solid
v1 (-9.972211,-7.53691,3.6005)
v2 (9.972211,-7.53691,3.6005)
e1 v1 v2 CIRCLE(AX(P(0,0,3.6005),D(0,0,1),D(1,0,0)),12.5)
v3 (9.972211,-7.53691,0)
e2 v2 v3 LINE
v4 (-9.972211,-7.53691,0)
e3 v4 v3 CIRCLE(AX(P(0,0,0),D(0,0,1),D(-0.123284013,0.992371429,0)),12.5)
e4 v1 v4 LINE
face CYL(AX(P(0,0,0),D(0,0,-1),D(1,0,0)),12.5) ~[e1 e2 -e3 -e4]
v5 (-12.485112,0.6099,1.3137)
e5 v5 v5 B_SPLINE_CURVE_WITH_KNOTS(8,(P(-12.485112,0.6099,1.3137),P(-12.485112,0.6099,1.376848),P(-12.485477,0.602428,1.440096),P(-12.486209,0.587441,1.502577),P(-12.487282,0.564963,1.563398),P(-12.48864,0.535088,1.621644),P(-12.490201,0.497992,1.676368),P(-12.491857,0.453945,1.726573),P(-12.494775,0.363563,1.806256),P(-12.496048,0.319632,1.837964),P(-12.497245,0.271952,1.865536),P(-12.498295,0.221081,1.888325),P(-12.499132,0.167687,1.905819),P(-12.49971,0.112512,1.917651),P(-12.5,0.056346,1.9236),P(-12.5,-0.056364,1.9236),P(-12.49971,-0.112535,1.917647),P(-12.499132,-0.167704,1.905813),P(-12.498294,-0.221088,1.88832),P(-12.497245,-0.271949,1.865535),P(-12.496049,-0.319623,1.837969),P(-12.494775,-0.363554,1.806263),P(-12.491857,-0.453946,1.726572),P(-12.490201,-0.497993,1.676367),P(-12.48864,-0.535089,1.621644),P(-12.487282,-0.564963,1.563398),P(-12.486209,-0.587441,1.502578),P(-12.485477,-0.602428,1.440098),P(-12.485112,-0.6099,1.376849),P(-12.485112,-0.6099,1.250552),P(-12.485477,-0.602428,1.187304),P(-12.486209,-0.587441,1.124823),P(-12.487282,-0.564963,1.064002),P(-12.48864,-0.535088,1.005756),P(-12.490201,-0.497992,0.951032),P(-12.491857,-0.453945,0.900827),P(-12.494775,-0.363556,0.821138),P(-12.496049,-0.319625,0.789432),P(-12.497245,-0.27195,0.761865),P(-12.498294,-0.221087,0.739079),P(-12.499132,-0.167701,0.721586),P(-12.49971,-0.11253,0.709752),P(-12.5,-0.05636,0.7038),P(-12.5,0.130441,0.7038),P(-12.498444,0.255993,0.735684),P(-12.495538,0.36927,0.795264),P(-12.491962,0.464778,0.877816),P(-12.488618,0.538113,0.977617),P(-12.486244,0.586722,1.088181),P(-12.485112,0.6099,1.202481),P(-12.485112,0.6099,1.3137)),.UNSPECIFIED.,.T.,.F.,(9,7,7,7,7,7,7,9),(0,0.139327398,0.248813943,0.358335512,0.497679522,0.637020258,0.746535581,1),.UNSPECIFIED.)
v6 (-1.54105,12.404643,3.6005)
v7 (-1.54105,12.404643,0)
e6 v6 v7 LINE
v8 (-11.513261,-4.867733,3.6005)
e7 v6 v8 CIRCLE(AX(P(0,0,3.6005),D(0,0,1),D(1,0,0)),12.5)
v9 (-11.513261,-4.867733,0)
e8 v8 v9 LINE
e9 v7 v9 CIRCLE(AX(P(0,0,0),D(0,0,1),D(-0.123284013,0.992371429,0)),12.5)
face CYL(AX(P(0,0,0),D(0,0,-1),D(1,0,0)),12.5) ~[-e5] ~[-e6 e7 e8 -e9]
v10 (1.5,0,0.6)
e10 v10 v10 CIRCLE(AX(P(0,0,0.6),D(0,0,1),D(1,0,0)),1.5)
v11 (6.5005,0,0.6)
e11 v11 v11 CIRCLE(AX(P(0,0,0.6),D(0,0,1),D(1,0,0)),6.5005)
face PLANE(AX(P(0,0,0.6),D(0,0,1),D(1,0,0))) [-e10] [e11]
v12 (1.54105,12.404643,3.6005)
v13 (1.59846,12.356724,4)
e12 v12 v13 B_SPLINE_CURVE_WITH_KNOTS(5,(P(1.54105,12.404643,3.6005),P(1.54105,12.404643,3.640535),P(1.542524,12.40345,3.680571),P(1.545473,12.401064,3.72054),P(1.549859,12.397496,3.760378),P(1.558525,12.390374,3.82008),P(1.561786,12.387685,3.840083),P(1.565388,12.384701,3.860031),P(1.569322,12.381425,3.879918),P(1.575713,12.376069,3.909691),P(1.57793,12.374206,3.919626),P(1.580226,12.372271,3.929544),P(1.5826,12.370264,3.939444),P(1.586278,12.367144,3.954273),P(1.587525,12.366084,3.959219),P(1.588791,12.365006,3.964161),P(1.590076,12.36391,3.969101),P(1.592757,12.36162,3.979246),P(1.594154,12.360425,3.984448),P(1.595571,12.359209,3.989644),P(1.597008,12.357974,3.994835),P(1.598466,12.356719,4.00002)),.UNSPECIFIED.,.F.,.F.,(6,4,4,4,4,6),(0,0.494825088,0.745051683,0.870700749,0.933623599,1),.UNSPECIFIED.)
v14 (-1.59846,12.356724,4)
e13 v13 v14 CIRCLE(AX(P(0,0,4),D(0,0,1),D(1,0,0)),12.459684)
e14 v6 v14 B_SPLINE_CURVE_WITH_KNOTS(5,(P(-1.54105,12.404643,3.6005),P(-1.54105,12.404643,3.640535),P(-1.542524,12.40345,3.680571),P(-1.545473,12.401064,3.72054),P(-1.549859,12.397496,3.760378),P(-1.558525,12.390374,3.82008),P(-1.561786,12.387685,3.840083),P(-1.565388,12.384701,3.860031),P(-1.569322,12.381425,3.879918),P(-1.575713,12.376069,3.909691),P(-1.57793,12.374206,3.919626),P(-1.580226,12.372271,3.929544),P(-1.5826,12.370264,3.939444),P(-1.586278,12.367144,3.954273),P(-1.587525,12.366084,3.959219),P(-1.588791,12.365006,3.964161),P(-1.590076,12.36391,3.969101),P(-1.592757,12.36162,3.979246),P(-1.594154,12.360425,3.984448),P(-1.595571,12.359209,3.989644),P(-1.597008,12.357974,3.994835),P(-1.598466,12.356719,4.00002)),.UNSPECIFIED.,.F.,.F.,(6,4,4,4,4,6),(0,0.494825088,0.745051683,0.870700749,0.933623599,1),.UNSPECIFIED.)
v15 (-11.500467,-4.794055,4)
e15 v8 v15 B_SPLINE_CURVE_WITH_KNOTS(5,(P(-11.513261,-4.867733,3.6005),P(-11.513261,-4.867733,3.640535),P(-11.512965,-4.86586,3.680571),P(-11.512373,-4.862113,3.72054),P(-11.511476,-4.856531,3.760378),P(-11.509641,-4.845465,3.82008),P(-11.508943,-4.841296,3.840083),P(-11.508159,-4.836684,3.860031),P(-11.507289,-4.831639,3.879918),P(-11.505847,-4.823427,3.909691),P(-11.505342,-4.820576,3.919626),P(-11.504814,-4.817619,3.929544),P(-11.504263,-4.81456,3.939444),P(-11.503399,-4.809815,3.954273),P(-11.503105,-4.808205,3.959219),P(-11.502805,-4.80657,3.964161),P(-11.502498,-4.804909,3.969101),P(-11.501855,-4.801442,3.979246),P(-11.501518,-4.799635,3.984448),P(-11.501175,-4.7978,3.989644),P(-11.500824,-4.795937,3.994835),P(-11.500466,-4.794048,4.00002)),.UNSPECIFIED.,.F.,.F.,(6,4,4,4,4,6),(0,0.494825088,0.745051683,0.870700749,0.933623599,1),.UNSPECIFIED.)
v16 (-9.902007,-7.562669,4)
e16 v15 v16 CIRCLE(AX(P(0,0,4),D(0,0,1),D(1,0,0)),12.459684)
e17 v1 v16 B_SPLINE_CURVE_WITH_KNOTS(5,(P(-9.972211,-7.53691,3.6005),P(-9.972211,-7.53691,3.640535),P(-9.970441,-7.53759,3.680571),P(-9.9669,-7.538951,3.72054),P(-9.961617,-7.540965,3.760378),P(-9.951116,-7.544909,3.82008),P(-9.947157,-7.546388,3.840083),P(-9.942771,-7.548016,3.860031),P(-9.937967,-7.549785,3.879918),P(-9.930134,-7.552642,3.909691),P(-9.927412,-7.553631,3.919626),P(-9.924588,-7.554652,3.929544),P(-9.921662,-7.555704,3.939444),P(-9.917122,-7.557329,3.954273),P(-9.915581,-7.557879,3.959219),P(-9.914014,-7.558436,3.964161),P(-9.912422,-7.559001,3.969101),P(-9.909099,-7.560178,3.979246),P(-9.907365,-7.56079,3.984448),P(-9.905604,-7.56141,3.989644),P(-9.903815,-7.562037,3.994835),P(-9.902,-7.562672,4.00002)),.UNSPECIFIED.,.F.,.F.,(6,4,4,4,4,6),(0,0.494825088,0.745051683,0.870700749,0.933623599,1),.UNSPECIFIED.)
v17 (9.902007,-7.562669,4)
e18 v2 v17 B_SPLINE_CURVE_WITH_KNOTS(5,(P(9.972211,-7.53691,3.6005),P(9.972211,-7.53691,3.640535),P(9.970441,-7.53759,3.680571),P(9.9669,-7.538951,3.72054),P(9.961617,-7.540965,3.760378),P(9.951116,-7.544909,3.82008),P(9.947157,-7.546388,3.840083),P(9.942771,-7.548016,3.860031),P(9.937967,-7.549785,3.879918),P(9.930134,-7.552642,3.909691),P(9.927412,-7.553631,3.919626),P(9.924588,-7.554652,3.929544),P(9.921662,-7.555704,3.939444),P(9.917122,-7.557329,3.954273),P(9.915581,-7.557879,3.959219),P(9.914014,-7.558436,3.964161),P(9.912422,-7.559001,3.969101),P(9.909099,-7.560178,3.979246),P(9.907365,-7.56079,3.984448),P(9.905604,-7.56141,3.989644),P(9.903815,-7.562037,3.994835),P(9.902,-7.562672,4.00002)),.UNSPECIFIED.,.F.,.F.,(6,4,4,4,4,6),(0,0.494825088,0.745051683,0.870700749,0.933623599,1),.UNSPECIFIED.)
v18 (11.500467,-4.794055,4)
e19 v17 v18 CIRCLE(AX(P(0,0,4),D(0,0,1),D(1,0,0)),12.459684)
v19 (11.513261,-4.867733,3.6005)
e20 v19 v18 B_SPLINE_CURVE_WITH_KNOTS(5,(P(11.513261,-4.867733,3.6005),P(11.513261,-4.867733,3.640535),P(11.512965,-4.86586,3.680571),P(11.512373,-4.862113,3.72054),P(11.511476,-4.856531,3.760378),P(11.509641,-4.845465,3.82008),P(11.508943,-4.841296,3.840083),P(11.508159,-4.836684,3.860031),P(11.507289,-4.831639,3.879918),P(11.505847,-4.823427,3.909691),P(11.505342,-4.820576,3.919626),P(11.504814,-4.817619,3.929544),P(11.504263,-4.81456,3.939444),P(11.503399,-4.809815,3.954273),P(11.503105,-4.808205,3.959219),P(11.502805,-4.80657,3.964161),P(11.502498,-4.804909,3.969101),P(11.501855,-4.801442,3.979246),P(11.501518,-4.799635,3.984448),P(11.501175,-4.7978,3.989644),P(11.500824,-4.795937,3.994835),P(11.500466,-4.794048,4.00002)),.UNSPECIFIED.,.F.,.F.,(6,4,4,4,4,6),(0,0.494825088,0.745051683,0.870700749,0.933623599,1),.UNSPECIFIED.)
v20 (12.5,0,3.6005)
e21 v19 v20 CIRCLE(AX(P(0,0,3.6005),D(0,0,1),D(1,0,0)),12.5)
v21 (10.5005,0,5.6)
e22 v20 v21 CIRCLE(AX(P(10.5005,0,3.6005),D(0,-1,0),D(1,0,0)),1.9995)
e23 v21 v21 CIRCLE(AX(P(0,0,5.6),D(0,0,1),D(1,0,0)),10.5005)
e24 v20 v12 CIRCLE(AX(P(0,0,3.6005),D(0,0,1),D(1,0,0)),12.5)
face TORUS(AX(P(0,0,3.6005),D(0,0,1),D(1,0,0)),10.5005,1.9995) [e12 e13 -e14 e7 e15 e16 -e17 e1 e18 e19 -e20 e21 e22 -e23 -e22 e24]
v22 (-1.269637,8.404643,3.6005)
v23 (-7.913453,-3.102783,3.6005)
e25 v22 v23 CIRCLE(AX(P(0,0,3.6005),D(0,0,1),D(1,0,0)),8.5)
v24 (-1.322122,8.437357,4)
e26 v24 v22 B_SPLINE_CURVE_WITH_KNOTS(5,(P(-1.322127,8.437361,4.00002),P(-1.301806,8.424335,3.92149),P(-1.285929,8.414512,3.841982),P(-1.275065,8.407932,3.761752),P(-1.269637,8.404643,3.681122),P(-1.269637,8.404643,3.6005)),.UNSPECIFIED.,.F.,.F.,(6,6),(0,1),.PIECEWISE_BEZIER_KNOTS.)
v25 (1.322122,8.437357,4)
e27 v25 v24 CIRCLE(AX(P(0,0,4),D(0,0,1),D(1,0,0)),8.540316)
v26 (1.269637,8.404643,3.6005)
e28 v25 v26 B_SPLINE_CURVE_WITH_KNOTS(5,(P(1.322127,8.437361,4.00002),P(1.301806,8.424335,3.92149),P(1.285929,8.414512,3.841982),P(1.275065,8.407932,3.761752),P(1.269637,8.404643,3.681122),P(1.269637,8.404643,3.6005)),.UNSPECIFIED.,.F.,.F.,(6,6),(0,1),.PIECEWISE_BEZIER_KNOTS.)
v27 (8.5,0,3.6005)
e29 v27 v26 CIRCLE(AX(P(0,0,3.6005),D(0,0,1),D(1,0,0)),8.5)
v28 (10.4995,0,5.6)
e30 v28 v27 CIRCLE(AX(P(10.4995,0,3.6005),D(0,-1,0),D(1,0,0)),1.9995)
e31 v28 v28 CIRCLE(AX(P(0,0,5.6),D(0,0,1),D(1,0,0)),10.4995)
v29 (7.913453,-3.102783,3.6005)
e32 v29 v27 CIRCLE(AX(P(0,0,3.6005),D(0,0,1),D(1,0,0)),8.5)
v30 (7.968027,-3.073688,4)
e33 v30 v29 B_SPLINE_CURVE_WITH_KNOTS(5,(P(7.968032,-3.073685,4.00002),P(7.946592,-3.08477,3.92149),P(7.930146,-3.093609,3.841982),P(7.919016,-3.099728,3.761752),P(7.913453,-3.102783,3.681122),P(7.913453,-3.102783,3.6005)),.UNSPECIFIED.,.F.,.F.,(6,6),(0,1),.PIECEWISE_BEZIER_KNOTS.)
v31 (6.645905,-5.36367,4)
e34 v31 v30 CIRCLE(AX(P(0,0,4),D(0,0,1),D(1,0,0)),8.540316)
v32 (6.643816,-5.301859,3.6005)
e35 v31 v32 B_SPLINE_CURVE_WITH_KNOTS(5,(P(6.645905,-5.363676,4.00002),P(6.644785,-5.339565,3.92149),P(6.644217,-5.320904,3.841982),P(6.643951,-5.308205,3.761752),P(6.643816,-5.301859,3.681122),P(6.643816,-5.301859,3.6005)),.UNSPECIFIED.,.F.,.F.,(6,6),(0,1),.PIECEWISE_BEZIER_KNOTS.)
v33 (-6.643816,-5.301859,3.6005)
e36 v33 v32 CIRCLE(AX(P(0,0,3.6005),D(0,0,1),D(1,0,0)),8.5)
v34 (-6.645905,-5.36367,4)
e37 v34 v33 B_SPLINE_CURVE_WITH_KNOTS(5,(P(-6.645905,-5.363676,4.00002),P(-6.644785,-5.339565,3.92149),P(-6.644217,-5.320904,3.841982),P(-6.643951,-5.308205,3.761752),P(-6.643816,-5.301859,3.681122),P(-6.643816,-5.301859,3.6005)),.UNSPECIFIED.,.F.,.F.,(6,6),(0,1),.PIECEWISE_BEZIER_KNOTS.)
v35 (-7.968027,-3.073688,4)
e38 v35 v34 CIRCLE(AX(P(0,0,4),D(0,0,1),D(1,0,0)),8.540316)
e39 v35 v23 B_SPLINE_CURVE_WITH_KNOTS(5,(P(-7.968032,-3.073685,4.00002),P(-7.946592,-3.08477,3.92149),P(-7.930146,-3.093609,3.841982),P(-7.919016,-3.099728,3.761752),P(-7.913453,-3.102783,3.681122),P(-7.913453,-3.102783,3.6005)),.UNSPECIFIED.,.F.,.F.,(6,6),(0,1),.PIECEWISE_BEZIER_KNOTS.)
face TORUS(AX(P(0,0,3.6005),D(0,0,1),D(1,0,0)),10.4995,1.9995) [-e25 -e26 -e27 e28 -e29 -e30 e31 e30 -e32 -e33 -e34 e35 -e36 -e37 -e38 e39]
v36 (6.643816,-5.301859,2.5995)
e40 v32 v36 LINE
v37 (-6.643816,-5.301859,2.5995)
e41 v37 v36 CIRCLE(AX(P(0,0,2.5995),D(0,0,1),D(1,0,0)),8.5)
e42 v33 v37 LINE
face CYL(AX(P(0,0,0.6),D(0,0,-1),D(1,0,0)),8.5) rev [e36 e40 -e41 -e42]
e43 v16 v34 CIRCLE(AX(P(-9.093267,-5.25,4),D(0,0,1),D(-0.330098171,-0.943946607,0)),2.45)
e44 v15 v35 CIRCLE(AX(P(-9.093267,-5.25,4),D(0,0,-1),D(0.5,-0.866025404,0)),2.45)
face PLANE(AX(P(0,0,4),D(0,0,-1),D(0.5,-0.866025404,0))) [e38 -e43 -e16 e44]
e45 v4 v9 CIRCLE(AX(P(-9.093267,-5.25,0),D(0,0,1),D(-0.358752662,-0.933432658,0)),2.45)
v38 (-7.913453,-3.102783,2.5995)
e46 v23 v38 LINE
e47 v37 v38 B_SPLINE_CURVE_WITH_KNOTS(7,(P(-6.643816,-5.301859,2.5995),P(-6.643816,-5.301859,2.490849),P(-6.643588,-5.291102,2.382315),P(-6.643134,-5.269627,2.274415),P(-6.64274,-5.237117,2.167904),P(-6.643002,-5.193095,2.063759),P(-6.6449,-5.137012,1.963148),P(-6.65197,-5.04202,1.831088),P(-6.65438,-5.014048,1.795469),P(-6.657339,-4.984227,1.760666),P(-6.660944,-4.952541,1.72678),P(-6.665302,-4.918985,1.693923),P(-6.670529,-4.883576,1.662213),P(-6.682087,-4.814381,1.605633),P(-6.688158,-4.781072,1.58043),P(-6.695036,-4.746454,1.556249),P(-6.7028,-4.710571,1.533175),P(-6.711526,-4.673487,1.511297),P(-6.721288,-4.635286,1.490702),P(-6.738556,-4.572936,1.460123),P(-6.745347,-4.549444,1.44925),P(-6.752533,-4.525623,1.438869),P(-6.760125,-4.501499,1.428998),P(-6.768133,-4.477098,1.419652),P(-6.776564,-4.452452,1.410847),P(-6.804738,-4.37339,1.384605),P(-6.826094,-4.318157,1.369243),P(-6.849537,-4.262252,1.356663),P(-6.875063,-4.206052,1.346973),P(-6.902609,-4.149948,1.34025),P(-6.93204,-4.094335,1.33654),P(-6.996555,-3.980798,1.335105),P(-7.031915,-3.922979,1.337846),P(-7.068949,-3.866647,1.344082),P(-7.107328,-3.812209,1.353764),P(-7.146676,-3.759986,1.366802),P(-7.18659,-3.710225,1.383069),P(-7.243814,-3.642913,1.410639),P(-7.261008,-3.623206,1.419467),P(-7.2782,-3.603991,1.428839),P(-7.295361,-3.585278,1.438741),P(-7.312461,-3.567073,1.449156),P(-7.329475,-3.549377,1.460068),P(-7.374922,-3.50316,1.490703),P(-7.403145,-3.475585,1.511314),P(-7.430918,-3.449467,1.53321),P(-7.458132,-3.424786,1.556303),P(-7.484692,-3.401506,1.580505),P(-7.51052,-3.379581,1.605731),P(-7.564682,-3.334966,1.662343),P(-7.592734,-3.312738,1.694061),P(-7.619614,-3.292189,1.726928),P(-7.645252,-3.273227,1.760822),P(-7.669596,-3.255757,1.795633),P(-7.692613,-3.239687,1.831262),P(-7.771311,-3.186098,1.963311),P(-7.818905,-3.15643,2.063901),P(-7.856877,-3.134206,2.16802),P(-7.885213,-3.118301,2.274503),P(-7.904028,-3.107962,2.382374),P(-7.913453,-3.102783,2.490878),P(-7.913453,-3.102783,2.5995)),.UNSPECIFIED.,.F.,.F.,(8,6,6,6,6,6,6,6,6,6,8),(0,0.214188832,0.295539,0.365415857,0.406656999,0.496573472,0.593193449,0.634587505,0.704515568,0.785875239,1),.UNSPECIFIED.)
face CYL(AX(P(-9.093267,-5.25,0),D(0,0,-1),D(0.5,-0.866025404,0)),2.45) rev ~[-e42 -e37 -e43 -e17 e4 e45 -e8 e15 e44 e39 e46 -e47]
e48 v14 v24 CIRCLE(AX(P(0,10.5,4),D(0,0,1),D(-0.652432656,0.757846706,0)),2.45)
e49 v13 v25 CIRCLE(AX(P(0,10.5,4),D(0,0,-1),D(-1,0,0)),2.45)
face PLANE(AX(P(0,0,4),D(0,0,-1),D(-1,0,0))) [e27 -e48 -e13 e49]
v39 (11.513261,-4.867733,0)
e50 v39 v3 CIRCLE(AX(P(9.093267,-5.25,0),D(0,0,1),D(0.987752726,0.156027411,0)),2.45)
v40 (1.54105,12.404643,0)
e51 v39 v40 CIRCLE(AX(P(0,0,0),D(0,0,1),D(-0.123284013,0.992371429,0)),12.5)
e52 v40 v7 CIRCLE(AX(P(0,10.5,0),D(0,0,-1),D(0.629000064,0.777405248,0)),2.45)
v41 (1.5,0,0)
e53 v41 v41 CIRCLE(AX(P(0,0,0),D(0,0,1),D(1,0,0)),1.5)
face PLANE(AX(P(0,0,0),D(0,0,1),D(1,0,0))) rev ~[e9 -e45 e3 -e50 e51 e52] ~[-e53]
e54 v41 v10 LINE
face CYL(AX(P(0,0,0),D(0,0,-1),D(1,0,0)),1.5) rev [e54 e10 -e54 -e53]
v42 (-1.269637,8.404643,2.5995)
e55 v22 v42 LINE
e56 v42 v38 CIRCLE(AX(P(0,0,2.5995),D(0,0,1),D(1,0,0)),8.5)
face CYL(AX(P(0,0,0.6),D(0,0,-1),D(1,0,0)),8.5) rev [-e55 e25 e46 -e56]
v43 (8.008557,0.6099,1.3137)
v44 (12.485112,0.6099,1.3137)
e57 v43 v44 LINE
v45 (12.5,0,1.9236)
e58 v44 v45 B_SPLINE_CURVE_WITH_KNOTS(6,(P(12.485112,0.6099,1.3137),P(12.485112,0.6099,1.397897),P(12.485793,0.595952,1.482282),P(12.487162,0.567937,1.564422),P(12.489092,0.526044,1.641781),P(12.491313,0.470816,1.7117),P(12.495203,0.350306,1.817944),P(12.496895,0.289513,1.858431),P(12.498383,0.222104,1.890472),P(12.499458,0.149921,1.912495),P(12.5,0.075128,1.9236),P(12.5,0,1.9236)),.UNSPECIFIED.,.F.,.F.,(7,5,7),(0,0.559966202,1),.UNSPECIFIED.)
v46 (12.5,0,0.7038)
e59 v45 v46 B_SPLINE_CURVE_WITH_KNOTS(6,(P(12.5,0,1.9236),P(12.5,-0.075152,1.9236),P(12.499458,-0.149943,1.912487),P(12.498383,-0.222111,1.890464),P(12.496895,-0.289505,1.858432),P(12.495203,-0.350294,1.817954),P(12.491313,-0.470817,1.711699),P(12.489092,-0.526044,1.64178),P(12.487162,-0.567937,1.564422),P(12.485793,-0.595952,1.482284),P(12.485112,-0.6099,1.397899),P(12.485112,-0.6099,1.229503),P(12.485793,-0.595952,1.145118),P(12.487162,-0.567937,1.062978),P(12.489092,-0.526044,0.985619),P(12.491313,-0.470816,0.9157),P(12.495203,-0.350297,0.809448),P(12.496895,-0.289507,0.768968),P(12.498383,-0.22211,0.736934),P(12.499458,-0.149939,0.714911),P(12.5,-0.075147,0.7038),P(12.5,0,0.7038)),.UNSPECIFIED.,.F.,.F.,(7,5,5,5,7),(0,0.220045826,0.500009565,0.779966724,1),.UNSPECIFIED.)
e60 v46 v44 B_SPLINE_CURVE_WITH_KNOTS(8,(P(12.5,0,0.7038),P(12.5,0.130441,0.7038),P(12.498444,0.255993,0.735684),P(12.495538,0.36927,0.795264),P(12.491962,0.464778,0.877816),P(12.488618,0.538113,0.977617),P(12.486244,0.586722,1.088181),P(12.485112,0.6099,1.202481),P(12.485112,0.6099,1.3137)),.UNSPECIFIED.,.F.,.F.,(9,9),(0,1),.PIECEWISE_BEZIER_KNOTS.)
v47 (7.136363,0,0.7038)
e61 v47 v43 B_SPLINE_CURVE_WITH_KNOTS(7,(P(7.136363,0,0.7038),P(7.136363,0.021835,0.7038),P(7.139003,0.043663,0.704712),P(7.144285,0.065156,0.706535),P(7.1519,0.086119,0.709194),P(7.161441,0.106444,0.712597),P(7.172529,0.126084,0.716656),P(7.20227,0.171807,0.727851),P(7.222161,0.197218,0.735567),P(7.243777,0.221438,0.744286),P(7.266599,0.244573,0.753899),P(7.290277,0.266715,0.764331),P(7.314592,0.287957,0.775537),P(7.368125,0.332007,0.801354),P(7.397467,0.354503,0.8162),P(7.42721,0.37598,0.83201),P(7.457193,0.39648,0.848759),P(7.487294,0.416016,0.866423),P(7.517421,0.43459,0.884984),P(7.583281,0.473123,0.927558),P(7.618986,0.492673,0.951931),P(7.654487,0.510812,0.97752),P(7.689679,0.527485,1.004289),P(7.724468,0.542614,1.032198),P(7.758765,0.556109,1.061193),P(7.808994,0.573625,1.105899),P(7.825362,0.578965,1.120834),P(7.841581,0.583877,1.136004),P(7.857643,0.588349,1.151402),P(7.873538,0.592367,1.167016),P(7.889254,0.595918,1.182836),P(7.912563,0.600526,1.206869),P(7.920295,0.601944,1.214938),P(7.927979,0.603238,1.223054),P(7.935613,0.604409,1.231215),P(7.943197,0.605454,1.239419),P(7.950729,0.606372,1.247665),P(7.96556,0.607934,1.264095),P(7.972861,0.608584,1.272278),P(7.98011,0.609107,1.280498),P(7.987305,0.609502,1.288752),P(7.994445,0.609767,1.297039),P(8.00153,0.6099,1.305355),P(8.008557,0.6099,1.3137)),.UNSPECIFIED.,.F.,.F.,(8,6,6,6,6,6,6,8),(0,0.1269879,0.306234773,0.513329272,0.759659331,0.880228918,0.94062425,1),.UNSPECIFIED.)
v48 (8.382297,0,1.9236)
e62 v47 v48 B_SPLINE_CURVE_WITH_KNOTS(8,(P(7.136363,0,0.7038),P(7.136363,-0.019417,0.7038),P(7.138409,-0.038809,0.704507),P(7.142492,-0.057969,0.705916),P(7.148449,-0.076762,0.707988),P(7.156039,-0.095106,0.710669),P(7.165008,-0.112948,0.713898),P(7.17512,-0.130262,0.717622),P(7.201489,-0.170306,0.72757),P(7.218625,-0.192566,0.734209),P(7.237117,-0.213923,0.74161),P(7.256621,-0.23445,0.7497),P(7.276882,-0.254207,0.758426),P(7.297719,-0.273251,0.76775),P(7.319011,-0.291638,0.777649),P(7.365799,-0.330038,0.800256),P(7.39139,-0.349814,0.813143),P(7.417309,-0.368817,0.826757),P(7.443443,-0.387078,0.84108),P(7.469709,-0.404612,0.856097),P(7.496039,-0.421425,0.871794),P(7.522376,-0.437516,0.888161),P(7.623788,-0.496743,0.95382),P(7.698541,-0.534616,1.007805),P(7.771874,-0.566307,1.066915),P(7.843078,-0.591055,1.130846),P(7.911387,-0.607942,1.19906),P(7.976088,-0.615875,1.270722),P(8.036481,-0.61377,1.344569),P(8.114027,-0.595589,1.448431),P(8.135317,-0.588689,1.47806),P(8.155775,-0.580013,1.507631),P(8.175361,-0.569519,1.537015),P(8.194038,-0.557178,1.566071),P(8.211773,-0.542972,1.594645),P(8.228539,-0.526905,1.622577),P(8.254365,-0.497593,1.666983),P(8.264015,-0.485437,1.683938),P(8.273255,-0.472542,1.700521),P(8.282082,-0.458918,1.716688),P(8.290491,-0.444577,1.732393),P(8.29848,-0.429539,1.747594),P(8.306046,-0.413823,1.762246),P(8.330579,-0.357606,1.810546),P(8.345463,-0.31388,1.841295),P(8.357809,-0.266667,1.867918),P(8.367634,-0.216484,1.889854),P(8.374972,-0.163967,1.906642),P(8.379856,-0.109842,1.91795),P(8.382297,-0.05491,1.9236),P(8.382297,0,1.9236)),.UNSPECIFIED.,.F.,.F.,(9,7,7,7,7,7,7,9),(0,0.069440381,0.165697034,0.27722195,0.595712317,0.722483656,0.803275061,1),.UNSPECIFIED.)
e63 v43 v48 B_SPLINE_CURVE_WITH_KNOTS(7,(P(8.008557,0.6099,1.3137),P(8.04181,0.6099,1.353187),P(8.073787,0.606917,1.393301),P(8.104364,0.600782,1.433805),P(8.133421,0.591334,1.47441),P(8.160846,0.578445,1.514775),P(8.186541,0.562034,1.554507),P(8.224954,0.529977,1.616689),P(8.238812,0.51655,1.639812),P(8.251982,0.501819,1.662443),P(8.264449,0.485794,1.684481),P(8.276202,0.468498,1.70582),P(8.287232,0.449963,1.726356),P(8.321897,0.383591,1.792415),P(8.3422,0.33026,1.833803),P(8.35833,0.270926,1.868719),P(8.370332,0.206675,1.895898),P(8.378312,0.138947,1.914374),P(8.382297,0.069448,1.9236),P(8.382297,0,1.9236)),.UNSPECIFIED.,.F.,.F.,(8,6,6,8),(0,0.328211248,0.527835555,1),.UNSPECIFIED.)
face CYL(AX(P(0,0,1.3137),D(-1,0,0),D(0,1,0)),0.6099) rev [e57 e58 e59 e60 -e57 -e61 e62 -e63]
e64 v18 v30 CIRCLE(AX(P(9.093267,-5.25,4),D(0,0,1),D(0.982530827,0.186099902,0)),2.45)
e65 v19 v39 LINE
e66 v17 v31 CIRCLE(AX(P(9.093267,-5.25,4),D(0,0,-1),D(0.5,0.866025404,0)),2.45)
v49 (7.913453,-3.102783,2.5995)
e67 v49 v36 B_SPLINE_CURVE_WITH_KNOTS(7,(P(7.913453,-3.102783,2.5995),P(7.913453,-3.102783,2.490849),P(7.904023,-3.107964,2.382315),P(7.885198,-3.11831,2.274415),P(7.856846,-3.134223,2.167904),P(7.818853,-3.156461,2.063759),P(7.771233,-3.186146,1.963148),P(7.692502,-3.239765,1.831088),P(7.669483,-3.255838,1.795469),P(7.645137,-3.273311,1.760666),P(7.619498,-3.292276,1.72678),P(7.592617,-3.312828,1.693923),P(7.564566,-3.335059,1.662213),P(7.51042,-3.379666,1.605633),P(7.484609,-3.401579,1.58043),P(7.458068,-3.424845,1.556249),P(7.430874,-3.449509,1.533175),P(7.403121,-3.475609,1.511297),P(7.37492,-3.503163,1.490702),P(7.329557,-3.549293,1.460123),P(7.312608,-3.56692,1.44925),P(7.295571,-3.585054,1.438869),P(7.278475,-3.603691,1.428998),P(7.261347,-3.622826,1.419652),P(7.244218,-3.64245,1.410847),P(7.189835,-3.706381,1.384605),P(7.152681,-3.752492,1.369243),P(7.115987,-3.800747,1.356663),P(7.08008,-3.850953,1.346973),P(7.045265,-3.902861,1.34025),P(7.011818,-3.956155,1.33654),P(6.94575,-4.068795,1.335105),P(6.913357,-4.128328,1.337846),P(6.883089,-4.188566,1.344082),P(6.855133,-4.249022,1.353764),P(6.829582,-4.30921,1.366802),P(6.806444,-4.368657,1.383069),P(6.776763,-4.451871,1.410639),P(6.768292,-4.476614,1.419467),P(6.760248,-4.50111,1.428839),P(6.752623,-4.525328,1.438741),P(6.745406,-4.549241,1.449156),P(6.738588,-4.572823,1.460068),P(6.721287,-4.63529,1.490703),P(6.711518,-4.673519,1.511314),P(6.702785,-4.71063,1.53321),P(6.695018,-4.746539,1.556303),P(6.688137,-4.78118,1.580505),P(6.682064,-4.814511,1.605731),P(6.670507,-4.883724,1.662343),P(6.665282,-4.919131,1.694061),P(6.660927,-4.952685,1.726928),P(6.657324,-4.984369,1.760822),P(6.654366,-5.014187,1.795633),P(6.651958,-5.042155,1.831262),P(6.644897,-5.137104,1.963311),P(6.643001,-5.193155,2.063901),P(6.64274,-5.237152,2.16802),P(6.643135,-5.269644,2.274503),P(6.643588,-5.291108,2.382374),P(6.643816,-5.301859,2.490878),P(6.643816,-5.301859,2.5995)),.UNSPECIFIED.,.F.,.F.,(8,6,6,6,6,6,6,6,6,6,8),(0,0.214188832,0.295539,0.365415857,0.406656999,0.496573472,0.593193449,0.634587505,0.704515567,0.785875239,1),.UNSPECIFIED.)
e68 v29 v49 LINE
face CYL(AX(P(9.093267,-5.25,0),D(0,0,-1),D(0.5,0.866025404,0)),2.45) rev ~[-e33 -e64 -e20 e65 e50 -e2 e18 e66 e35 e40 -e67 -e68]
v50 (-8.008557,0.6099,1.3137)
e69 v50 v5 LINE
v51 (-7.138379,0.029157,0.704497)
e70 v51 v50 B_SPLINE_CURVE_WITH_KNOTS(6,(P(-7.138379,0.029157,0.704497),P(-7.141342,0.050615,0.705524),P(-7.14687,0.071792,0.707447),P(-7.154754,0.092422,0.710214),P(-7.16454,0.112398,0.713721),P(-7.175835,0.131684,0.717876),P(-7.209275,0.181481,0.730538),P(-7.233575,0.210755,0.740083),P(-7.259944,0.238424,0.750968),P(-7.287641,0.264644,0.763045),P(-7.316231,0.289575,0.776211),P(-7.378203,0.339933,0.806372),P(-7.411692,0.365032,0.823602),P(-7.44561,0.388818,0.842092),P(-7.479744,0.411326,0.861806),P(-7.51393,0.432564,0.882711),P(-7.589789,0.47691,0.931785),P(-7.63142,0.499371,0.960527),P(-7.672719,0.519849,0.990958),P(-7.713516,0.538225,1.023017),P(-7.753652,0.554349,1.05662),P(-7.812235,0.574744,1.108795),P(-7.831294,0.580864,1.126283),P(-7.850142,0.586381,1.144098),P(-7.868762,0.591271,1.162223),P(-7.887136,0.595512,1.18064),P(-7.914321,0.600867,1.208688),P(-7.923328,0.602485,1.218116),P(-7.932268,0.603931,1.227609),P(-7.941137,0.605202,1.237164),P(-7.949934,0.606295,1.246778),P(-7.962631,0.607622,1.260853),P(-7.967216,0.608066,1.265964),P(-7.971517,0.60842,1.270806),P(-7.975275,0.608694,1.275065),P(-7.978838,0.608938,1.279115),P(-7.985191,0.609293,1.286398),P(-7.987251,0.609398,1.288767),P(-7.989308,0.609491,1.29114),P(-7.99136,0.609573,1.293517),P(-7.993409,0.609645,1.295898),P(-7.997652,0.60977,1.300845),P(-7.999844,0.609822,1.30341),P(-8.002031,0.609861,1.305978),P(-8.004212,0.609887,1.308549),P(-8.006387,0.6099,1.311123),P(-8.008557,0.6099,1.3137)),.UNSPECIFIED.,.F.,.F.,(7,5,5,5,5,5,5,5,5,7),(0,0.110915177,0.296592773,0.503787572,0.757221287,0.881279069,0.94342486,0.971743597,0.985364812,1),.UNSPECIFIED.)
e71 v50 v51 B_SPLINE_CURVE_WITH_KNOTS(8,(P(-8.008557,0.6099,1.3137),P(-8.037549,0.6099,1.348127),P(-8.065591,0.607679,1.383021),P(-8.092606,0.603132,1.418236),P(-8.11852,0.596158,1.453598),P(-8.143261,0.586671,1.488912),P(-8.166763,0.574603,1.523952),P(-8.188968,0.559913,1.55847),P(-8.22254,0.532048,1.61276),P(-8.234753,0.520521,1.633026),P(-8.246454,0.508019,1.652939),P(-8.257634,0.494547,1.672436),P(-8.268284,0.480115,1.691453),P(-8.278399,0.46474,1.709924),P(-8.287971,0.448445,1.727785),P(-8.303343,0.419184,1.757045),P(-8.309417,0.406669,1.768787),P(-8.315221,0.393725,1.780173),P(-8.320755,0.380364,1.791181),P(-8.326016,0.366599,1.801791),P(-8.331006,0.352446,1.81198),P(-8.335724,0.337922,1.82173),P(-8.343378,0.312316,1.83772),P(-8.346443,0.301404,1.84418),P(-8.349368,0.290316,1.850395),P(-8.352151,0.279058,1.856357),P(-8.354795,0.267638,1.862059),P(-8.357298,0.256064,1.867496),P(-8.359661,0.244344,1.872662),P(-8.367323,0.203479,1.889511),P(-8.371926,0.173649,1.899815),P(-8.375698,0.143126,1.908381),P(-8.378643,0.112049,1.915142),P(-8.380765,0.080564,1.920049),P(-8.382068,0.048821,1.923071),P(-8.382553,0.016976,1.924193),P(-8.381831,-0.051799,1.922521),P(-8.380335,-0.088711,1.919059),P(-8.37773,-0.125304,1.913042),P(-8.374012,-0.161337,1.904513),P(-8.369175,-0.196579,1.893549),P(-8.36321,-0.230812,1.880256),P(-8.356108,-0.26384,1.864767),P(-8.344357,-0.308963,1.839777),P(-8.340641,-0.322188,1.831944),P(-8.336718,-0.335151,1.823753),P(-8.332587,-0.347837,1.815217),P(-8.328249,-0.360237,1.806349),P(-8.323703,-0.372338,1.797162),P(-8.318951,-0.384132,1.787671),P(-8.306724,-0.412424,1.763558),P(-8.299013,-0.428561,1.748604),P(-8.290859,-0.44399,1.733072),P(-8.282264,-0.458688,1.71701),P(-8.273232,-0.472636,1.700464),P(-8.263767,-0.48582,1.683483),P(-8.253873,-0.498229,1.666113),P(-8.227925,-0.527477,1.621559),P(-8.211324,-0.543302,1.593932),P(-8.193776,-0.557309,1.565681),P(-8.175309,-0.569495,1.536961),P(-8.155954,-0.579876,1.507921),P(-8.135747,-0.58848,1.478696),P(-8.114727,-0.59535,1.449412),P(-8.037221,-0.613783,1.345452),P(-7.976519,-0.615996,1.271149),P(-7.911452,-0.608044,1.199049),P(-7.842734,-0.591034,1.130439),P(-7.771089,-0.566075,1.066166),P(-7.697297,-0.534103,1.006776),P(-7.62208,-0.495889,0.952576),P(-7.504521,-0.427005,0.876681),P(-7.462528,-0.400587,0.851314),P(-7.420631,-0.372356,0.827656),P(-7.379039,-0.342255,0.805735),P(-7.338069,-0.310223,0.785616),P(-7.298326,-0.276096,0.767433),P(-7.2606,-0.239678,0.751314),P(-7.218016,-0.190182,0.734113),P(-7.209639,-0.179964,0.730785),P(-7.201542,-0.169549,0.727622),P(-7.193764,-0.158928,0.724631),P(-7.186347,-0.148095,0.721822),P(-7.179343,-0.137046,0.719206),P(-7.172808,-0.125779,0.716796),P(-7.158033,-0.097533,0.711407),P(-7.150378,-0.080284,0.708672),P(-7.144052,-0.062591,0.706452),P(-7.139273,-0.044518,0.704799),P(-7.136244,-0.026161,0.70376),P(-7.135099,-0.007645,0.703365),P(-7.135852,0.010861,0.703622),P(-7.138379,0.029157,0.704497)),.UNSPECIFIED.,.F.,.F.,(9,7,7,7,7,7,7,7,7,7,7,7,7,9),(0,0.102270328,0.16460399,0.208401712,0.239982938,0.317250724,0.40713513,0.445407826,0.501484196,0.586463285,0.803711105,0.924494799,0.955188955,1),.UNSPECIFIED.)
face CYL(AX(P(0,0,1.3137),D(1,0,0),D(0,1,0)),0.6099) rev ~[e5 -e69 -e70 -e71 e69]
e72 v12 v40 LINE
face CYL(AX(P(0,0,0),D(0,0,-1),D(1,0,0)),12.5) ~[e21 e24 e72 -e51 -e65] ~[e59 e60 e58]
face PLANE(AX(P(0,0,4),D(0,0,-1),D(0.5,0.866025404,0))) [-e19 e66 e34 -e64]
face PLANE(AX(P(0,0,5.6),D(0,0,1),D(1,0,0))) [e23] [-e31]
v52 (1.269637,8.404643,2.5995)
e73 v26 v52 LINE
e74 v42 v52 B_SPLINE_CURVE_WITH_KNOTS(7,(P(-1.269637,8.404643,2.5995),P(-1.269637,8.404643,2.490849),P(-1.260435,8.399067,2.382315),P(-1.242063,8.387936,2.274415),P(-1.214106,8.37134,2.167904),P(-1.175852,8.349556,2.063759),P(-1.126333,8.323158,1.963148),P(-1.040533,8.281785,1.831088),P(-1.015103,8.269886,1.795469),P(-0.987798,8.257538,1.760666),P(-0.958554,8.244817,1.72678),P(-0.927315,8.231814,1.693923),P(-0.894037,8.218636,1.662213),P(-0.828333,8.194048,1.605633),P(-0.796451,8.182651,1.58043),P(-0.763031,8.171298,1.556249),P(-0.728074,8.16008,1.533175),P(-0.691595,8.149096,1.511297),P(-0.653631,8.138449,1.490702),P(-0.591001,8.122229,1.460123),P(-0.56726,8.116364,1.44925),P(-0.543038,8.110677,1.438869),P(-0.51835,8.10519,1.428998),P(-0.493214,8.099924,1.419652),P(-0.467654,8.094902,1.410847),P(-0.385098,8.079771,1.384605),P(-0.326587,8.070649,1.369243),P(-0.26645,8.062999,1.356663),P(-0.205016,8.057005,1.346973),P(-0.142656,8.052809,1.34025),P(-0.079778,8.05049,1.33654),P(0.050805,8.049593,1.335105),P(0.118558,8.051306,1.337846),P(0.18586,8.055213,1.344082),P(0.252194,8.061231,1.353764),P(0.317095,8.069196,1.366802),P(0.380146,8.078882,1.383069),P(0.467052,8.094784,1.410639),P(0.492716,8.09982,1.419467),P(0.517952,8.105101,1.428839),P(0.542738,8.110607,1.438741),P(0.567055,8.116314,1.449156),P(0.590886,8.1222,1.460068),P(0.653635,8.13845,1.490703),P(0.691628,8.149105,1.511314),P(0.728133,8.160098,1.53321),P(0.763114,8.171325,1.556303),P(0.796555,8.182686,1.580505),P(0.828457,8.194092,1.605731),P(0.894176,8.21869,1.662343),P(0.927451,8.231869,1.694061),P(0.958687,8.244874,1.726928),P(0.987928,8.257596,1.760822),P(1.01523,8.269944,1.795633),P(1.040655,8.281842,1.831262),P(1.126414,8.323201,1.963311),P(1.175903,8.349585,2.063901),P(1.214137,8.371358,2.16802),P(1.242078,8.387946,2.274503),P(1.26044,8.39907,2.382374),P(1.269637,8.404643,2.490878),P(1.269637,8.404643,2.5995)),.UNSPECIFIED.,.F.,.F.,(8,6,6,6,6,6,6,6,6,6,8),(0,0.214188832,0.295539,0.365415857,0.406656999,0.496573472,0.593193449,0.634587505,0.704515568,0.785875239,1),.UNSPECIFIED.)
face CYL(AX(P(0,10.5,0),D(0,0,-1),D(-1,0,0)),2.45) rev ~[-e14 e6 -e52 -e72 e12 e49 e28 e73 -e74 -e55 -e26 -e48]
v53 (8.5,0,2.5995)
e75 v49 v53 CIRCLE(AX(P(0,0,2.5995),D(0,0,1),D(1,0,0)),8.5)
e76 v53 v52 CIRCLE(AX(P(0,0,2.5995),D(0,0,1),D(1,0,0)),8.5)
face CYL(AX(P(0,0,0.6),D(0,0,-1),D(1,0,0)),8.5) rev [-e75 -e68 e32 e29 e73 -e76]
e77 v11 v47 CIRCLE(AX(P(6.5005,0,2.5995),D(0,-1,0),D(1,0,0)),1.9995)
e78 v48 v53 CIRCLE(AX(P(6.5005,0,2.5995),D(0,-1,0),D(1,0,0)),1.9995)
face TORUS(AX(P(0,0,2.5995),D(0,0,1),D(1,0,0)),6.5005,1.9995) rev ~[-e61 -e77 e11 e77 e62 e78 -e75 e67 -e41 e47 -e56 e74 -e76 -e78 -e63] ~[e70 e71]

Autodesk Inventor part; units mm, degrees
ref_plane "YZ Plane" through (0, 0, 0) normal (1, 0, 0) x (0, 1, 0)
ref_plane "XZ Plane" through (0, 0, 0) normal (0, 1, 0) x (-1, 0, 0)
ref_plane "XY Plane" through (0, 0, 0) normal (0, 0, 1) x (1, 0, 0)
sketch "Sketch1" plane through (0, 0, 0) normal (0, 0, 1) x (1, 0, 0)
  circle A0 centre (0, 0) radius 12.5
  circle A1 centre (0, 0) radius 1.5
  dimension "d34" = 25
  dimension "d35" = 3
extrude "Extrusion1" add sketch "Sketch1" along normal blind 0.6
sketch "Sketch2" plane through (0, 0, 0.6) normal (0, 0, 1) x (1, 0, 0)
  circle A0 centre (0, 0) radius 12.5 projected
  circle A1 centre (0, 0) radius 8.5
  dimension "d8" = 4
extrude "Extrusion2" add sketch "Sketch2" along normal blind 5
fillet "Fillet1" radius 2 3 edges at (-8.5, 0, 0.6) (-8.5, 0, 5.6) (-12.5, 0, 5.6)
sketch "Sketch3" plane through (0, 0, 0) normal (0, 0, -1) x (-1, 0, 0)
  circle A0 centre (0, 0) radius 12.5 projected
  circle A1 centre (0, -0.75) radius 0.25 projected
  line L0 (-0.2487, -0.7372) -> (-0.25, -0.75)
  line L1 (0, -0.5128) -> (0, -1.0128) construction
  arc A2 (0, -0.5128) -> (-0.2487, -0.7372) centre (0, -0.7628) ccw
  arc A3 (-0.2447, -0.699) -> (0.2447, -0.699) centre (0, -0.75) ccw
  line L2 (0.2487, -0.7372) -> (0.25, -0.75)
  arc A4 (0.2487, -0.7372) -> (0, -0.5128) centre (0, -0.7628) ccw
  point P0 (0, -0.5)
  dimension "d17" = 0.25
sketch "Sketch4" plane through (0, 0, 0) normal (0, 0, -1) x (-1, 0, 0)
  circle A0 centre (0, 0) radius 12.5 projected
  circle A1 centre (0, 10.5) radius 2.45
  dimension "d18" = 4.9
  dimension "d19" = 10.5
extrude "Extrusion4" cut sketch "Sketch4" against normal blind 4 contours A1 A0 | A0 A1 picked at (-0.073, 11.0129) picked at (0, 12.6429)
pattern_circular "Circular Pattern2" count 3 over 360 about axis through (0, 0, 0) along (0, 0, 1) of "Extrusion4"
sketch "Sketch8" plane through (0, 0, 0) normal (1, 0, 0) x (0, 1, 0)
  line L0 (12.4046, 3.6) -> (-4.8677, 3.6) projected
  line L1 (-4.8677, 0) -> (12.4046, 0) projected
  circle A0 centre (0, 1.3137) radius 0.6099
  line L2 (-4.8677, 0) -> (-4.8677, 3.6) projected
  line L3 (12.4046, 3.6) -> (12.4046, 0) projected
  point P0 (0, 0)
  point P1 (-12.5, 0)
  point P2 (-12.5, 3.6)
  point P3 (12.5, 3.6)
  point P4 (12.5, 0)
extrude "Extrusion6" cut sketch "Sketch8" along normal through all both and the other way through all contours A0
properties part number "30_Cube_openSIM_Fouriermask_2"
